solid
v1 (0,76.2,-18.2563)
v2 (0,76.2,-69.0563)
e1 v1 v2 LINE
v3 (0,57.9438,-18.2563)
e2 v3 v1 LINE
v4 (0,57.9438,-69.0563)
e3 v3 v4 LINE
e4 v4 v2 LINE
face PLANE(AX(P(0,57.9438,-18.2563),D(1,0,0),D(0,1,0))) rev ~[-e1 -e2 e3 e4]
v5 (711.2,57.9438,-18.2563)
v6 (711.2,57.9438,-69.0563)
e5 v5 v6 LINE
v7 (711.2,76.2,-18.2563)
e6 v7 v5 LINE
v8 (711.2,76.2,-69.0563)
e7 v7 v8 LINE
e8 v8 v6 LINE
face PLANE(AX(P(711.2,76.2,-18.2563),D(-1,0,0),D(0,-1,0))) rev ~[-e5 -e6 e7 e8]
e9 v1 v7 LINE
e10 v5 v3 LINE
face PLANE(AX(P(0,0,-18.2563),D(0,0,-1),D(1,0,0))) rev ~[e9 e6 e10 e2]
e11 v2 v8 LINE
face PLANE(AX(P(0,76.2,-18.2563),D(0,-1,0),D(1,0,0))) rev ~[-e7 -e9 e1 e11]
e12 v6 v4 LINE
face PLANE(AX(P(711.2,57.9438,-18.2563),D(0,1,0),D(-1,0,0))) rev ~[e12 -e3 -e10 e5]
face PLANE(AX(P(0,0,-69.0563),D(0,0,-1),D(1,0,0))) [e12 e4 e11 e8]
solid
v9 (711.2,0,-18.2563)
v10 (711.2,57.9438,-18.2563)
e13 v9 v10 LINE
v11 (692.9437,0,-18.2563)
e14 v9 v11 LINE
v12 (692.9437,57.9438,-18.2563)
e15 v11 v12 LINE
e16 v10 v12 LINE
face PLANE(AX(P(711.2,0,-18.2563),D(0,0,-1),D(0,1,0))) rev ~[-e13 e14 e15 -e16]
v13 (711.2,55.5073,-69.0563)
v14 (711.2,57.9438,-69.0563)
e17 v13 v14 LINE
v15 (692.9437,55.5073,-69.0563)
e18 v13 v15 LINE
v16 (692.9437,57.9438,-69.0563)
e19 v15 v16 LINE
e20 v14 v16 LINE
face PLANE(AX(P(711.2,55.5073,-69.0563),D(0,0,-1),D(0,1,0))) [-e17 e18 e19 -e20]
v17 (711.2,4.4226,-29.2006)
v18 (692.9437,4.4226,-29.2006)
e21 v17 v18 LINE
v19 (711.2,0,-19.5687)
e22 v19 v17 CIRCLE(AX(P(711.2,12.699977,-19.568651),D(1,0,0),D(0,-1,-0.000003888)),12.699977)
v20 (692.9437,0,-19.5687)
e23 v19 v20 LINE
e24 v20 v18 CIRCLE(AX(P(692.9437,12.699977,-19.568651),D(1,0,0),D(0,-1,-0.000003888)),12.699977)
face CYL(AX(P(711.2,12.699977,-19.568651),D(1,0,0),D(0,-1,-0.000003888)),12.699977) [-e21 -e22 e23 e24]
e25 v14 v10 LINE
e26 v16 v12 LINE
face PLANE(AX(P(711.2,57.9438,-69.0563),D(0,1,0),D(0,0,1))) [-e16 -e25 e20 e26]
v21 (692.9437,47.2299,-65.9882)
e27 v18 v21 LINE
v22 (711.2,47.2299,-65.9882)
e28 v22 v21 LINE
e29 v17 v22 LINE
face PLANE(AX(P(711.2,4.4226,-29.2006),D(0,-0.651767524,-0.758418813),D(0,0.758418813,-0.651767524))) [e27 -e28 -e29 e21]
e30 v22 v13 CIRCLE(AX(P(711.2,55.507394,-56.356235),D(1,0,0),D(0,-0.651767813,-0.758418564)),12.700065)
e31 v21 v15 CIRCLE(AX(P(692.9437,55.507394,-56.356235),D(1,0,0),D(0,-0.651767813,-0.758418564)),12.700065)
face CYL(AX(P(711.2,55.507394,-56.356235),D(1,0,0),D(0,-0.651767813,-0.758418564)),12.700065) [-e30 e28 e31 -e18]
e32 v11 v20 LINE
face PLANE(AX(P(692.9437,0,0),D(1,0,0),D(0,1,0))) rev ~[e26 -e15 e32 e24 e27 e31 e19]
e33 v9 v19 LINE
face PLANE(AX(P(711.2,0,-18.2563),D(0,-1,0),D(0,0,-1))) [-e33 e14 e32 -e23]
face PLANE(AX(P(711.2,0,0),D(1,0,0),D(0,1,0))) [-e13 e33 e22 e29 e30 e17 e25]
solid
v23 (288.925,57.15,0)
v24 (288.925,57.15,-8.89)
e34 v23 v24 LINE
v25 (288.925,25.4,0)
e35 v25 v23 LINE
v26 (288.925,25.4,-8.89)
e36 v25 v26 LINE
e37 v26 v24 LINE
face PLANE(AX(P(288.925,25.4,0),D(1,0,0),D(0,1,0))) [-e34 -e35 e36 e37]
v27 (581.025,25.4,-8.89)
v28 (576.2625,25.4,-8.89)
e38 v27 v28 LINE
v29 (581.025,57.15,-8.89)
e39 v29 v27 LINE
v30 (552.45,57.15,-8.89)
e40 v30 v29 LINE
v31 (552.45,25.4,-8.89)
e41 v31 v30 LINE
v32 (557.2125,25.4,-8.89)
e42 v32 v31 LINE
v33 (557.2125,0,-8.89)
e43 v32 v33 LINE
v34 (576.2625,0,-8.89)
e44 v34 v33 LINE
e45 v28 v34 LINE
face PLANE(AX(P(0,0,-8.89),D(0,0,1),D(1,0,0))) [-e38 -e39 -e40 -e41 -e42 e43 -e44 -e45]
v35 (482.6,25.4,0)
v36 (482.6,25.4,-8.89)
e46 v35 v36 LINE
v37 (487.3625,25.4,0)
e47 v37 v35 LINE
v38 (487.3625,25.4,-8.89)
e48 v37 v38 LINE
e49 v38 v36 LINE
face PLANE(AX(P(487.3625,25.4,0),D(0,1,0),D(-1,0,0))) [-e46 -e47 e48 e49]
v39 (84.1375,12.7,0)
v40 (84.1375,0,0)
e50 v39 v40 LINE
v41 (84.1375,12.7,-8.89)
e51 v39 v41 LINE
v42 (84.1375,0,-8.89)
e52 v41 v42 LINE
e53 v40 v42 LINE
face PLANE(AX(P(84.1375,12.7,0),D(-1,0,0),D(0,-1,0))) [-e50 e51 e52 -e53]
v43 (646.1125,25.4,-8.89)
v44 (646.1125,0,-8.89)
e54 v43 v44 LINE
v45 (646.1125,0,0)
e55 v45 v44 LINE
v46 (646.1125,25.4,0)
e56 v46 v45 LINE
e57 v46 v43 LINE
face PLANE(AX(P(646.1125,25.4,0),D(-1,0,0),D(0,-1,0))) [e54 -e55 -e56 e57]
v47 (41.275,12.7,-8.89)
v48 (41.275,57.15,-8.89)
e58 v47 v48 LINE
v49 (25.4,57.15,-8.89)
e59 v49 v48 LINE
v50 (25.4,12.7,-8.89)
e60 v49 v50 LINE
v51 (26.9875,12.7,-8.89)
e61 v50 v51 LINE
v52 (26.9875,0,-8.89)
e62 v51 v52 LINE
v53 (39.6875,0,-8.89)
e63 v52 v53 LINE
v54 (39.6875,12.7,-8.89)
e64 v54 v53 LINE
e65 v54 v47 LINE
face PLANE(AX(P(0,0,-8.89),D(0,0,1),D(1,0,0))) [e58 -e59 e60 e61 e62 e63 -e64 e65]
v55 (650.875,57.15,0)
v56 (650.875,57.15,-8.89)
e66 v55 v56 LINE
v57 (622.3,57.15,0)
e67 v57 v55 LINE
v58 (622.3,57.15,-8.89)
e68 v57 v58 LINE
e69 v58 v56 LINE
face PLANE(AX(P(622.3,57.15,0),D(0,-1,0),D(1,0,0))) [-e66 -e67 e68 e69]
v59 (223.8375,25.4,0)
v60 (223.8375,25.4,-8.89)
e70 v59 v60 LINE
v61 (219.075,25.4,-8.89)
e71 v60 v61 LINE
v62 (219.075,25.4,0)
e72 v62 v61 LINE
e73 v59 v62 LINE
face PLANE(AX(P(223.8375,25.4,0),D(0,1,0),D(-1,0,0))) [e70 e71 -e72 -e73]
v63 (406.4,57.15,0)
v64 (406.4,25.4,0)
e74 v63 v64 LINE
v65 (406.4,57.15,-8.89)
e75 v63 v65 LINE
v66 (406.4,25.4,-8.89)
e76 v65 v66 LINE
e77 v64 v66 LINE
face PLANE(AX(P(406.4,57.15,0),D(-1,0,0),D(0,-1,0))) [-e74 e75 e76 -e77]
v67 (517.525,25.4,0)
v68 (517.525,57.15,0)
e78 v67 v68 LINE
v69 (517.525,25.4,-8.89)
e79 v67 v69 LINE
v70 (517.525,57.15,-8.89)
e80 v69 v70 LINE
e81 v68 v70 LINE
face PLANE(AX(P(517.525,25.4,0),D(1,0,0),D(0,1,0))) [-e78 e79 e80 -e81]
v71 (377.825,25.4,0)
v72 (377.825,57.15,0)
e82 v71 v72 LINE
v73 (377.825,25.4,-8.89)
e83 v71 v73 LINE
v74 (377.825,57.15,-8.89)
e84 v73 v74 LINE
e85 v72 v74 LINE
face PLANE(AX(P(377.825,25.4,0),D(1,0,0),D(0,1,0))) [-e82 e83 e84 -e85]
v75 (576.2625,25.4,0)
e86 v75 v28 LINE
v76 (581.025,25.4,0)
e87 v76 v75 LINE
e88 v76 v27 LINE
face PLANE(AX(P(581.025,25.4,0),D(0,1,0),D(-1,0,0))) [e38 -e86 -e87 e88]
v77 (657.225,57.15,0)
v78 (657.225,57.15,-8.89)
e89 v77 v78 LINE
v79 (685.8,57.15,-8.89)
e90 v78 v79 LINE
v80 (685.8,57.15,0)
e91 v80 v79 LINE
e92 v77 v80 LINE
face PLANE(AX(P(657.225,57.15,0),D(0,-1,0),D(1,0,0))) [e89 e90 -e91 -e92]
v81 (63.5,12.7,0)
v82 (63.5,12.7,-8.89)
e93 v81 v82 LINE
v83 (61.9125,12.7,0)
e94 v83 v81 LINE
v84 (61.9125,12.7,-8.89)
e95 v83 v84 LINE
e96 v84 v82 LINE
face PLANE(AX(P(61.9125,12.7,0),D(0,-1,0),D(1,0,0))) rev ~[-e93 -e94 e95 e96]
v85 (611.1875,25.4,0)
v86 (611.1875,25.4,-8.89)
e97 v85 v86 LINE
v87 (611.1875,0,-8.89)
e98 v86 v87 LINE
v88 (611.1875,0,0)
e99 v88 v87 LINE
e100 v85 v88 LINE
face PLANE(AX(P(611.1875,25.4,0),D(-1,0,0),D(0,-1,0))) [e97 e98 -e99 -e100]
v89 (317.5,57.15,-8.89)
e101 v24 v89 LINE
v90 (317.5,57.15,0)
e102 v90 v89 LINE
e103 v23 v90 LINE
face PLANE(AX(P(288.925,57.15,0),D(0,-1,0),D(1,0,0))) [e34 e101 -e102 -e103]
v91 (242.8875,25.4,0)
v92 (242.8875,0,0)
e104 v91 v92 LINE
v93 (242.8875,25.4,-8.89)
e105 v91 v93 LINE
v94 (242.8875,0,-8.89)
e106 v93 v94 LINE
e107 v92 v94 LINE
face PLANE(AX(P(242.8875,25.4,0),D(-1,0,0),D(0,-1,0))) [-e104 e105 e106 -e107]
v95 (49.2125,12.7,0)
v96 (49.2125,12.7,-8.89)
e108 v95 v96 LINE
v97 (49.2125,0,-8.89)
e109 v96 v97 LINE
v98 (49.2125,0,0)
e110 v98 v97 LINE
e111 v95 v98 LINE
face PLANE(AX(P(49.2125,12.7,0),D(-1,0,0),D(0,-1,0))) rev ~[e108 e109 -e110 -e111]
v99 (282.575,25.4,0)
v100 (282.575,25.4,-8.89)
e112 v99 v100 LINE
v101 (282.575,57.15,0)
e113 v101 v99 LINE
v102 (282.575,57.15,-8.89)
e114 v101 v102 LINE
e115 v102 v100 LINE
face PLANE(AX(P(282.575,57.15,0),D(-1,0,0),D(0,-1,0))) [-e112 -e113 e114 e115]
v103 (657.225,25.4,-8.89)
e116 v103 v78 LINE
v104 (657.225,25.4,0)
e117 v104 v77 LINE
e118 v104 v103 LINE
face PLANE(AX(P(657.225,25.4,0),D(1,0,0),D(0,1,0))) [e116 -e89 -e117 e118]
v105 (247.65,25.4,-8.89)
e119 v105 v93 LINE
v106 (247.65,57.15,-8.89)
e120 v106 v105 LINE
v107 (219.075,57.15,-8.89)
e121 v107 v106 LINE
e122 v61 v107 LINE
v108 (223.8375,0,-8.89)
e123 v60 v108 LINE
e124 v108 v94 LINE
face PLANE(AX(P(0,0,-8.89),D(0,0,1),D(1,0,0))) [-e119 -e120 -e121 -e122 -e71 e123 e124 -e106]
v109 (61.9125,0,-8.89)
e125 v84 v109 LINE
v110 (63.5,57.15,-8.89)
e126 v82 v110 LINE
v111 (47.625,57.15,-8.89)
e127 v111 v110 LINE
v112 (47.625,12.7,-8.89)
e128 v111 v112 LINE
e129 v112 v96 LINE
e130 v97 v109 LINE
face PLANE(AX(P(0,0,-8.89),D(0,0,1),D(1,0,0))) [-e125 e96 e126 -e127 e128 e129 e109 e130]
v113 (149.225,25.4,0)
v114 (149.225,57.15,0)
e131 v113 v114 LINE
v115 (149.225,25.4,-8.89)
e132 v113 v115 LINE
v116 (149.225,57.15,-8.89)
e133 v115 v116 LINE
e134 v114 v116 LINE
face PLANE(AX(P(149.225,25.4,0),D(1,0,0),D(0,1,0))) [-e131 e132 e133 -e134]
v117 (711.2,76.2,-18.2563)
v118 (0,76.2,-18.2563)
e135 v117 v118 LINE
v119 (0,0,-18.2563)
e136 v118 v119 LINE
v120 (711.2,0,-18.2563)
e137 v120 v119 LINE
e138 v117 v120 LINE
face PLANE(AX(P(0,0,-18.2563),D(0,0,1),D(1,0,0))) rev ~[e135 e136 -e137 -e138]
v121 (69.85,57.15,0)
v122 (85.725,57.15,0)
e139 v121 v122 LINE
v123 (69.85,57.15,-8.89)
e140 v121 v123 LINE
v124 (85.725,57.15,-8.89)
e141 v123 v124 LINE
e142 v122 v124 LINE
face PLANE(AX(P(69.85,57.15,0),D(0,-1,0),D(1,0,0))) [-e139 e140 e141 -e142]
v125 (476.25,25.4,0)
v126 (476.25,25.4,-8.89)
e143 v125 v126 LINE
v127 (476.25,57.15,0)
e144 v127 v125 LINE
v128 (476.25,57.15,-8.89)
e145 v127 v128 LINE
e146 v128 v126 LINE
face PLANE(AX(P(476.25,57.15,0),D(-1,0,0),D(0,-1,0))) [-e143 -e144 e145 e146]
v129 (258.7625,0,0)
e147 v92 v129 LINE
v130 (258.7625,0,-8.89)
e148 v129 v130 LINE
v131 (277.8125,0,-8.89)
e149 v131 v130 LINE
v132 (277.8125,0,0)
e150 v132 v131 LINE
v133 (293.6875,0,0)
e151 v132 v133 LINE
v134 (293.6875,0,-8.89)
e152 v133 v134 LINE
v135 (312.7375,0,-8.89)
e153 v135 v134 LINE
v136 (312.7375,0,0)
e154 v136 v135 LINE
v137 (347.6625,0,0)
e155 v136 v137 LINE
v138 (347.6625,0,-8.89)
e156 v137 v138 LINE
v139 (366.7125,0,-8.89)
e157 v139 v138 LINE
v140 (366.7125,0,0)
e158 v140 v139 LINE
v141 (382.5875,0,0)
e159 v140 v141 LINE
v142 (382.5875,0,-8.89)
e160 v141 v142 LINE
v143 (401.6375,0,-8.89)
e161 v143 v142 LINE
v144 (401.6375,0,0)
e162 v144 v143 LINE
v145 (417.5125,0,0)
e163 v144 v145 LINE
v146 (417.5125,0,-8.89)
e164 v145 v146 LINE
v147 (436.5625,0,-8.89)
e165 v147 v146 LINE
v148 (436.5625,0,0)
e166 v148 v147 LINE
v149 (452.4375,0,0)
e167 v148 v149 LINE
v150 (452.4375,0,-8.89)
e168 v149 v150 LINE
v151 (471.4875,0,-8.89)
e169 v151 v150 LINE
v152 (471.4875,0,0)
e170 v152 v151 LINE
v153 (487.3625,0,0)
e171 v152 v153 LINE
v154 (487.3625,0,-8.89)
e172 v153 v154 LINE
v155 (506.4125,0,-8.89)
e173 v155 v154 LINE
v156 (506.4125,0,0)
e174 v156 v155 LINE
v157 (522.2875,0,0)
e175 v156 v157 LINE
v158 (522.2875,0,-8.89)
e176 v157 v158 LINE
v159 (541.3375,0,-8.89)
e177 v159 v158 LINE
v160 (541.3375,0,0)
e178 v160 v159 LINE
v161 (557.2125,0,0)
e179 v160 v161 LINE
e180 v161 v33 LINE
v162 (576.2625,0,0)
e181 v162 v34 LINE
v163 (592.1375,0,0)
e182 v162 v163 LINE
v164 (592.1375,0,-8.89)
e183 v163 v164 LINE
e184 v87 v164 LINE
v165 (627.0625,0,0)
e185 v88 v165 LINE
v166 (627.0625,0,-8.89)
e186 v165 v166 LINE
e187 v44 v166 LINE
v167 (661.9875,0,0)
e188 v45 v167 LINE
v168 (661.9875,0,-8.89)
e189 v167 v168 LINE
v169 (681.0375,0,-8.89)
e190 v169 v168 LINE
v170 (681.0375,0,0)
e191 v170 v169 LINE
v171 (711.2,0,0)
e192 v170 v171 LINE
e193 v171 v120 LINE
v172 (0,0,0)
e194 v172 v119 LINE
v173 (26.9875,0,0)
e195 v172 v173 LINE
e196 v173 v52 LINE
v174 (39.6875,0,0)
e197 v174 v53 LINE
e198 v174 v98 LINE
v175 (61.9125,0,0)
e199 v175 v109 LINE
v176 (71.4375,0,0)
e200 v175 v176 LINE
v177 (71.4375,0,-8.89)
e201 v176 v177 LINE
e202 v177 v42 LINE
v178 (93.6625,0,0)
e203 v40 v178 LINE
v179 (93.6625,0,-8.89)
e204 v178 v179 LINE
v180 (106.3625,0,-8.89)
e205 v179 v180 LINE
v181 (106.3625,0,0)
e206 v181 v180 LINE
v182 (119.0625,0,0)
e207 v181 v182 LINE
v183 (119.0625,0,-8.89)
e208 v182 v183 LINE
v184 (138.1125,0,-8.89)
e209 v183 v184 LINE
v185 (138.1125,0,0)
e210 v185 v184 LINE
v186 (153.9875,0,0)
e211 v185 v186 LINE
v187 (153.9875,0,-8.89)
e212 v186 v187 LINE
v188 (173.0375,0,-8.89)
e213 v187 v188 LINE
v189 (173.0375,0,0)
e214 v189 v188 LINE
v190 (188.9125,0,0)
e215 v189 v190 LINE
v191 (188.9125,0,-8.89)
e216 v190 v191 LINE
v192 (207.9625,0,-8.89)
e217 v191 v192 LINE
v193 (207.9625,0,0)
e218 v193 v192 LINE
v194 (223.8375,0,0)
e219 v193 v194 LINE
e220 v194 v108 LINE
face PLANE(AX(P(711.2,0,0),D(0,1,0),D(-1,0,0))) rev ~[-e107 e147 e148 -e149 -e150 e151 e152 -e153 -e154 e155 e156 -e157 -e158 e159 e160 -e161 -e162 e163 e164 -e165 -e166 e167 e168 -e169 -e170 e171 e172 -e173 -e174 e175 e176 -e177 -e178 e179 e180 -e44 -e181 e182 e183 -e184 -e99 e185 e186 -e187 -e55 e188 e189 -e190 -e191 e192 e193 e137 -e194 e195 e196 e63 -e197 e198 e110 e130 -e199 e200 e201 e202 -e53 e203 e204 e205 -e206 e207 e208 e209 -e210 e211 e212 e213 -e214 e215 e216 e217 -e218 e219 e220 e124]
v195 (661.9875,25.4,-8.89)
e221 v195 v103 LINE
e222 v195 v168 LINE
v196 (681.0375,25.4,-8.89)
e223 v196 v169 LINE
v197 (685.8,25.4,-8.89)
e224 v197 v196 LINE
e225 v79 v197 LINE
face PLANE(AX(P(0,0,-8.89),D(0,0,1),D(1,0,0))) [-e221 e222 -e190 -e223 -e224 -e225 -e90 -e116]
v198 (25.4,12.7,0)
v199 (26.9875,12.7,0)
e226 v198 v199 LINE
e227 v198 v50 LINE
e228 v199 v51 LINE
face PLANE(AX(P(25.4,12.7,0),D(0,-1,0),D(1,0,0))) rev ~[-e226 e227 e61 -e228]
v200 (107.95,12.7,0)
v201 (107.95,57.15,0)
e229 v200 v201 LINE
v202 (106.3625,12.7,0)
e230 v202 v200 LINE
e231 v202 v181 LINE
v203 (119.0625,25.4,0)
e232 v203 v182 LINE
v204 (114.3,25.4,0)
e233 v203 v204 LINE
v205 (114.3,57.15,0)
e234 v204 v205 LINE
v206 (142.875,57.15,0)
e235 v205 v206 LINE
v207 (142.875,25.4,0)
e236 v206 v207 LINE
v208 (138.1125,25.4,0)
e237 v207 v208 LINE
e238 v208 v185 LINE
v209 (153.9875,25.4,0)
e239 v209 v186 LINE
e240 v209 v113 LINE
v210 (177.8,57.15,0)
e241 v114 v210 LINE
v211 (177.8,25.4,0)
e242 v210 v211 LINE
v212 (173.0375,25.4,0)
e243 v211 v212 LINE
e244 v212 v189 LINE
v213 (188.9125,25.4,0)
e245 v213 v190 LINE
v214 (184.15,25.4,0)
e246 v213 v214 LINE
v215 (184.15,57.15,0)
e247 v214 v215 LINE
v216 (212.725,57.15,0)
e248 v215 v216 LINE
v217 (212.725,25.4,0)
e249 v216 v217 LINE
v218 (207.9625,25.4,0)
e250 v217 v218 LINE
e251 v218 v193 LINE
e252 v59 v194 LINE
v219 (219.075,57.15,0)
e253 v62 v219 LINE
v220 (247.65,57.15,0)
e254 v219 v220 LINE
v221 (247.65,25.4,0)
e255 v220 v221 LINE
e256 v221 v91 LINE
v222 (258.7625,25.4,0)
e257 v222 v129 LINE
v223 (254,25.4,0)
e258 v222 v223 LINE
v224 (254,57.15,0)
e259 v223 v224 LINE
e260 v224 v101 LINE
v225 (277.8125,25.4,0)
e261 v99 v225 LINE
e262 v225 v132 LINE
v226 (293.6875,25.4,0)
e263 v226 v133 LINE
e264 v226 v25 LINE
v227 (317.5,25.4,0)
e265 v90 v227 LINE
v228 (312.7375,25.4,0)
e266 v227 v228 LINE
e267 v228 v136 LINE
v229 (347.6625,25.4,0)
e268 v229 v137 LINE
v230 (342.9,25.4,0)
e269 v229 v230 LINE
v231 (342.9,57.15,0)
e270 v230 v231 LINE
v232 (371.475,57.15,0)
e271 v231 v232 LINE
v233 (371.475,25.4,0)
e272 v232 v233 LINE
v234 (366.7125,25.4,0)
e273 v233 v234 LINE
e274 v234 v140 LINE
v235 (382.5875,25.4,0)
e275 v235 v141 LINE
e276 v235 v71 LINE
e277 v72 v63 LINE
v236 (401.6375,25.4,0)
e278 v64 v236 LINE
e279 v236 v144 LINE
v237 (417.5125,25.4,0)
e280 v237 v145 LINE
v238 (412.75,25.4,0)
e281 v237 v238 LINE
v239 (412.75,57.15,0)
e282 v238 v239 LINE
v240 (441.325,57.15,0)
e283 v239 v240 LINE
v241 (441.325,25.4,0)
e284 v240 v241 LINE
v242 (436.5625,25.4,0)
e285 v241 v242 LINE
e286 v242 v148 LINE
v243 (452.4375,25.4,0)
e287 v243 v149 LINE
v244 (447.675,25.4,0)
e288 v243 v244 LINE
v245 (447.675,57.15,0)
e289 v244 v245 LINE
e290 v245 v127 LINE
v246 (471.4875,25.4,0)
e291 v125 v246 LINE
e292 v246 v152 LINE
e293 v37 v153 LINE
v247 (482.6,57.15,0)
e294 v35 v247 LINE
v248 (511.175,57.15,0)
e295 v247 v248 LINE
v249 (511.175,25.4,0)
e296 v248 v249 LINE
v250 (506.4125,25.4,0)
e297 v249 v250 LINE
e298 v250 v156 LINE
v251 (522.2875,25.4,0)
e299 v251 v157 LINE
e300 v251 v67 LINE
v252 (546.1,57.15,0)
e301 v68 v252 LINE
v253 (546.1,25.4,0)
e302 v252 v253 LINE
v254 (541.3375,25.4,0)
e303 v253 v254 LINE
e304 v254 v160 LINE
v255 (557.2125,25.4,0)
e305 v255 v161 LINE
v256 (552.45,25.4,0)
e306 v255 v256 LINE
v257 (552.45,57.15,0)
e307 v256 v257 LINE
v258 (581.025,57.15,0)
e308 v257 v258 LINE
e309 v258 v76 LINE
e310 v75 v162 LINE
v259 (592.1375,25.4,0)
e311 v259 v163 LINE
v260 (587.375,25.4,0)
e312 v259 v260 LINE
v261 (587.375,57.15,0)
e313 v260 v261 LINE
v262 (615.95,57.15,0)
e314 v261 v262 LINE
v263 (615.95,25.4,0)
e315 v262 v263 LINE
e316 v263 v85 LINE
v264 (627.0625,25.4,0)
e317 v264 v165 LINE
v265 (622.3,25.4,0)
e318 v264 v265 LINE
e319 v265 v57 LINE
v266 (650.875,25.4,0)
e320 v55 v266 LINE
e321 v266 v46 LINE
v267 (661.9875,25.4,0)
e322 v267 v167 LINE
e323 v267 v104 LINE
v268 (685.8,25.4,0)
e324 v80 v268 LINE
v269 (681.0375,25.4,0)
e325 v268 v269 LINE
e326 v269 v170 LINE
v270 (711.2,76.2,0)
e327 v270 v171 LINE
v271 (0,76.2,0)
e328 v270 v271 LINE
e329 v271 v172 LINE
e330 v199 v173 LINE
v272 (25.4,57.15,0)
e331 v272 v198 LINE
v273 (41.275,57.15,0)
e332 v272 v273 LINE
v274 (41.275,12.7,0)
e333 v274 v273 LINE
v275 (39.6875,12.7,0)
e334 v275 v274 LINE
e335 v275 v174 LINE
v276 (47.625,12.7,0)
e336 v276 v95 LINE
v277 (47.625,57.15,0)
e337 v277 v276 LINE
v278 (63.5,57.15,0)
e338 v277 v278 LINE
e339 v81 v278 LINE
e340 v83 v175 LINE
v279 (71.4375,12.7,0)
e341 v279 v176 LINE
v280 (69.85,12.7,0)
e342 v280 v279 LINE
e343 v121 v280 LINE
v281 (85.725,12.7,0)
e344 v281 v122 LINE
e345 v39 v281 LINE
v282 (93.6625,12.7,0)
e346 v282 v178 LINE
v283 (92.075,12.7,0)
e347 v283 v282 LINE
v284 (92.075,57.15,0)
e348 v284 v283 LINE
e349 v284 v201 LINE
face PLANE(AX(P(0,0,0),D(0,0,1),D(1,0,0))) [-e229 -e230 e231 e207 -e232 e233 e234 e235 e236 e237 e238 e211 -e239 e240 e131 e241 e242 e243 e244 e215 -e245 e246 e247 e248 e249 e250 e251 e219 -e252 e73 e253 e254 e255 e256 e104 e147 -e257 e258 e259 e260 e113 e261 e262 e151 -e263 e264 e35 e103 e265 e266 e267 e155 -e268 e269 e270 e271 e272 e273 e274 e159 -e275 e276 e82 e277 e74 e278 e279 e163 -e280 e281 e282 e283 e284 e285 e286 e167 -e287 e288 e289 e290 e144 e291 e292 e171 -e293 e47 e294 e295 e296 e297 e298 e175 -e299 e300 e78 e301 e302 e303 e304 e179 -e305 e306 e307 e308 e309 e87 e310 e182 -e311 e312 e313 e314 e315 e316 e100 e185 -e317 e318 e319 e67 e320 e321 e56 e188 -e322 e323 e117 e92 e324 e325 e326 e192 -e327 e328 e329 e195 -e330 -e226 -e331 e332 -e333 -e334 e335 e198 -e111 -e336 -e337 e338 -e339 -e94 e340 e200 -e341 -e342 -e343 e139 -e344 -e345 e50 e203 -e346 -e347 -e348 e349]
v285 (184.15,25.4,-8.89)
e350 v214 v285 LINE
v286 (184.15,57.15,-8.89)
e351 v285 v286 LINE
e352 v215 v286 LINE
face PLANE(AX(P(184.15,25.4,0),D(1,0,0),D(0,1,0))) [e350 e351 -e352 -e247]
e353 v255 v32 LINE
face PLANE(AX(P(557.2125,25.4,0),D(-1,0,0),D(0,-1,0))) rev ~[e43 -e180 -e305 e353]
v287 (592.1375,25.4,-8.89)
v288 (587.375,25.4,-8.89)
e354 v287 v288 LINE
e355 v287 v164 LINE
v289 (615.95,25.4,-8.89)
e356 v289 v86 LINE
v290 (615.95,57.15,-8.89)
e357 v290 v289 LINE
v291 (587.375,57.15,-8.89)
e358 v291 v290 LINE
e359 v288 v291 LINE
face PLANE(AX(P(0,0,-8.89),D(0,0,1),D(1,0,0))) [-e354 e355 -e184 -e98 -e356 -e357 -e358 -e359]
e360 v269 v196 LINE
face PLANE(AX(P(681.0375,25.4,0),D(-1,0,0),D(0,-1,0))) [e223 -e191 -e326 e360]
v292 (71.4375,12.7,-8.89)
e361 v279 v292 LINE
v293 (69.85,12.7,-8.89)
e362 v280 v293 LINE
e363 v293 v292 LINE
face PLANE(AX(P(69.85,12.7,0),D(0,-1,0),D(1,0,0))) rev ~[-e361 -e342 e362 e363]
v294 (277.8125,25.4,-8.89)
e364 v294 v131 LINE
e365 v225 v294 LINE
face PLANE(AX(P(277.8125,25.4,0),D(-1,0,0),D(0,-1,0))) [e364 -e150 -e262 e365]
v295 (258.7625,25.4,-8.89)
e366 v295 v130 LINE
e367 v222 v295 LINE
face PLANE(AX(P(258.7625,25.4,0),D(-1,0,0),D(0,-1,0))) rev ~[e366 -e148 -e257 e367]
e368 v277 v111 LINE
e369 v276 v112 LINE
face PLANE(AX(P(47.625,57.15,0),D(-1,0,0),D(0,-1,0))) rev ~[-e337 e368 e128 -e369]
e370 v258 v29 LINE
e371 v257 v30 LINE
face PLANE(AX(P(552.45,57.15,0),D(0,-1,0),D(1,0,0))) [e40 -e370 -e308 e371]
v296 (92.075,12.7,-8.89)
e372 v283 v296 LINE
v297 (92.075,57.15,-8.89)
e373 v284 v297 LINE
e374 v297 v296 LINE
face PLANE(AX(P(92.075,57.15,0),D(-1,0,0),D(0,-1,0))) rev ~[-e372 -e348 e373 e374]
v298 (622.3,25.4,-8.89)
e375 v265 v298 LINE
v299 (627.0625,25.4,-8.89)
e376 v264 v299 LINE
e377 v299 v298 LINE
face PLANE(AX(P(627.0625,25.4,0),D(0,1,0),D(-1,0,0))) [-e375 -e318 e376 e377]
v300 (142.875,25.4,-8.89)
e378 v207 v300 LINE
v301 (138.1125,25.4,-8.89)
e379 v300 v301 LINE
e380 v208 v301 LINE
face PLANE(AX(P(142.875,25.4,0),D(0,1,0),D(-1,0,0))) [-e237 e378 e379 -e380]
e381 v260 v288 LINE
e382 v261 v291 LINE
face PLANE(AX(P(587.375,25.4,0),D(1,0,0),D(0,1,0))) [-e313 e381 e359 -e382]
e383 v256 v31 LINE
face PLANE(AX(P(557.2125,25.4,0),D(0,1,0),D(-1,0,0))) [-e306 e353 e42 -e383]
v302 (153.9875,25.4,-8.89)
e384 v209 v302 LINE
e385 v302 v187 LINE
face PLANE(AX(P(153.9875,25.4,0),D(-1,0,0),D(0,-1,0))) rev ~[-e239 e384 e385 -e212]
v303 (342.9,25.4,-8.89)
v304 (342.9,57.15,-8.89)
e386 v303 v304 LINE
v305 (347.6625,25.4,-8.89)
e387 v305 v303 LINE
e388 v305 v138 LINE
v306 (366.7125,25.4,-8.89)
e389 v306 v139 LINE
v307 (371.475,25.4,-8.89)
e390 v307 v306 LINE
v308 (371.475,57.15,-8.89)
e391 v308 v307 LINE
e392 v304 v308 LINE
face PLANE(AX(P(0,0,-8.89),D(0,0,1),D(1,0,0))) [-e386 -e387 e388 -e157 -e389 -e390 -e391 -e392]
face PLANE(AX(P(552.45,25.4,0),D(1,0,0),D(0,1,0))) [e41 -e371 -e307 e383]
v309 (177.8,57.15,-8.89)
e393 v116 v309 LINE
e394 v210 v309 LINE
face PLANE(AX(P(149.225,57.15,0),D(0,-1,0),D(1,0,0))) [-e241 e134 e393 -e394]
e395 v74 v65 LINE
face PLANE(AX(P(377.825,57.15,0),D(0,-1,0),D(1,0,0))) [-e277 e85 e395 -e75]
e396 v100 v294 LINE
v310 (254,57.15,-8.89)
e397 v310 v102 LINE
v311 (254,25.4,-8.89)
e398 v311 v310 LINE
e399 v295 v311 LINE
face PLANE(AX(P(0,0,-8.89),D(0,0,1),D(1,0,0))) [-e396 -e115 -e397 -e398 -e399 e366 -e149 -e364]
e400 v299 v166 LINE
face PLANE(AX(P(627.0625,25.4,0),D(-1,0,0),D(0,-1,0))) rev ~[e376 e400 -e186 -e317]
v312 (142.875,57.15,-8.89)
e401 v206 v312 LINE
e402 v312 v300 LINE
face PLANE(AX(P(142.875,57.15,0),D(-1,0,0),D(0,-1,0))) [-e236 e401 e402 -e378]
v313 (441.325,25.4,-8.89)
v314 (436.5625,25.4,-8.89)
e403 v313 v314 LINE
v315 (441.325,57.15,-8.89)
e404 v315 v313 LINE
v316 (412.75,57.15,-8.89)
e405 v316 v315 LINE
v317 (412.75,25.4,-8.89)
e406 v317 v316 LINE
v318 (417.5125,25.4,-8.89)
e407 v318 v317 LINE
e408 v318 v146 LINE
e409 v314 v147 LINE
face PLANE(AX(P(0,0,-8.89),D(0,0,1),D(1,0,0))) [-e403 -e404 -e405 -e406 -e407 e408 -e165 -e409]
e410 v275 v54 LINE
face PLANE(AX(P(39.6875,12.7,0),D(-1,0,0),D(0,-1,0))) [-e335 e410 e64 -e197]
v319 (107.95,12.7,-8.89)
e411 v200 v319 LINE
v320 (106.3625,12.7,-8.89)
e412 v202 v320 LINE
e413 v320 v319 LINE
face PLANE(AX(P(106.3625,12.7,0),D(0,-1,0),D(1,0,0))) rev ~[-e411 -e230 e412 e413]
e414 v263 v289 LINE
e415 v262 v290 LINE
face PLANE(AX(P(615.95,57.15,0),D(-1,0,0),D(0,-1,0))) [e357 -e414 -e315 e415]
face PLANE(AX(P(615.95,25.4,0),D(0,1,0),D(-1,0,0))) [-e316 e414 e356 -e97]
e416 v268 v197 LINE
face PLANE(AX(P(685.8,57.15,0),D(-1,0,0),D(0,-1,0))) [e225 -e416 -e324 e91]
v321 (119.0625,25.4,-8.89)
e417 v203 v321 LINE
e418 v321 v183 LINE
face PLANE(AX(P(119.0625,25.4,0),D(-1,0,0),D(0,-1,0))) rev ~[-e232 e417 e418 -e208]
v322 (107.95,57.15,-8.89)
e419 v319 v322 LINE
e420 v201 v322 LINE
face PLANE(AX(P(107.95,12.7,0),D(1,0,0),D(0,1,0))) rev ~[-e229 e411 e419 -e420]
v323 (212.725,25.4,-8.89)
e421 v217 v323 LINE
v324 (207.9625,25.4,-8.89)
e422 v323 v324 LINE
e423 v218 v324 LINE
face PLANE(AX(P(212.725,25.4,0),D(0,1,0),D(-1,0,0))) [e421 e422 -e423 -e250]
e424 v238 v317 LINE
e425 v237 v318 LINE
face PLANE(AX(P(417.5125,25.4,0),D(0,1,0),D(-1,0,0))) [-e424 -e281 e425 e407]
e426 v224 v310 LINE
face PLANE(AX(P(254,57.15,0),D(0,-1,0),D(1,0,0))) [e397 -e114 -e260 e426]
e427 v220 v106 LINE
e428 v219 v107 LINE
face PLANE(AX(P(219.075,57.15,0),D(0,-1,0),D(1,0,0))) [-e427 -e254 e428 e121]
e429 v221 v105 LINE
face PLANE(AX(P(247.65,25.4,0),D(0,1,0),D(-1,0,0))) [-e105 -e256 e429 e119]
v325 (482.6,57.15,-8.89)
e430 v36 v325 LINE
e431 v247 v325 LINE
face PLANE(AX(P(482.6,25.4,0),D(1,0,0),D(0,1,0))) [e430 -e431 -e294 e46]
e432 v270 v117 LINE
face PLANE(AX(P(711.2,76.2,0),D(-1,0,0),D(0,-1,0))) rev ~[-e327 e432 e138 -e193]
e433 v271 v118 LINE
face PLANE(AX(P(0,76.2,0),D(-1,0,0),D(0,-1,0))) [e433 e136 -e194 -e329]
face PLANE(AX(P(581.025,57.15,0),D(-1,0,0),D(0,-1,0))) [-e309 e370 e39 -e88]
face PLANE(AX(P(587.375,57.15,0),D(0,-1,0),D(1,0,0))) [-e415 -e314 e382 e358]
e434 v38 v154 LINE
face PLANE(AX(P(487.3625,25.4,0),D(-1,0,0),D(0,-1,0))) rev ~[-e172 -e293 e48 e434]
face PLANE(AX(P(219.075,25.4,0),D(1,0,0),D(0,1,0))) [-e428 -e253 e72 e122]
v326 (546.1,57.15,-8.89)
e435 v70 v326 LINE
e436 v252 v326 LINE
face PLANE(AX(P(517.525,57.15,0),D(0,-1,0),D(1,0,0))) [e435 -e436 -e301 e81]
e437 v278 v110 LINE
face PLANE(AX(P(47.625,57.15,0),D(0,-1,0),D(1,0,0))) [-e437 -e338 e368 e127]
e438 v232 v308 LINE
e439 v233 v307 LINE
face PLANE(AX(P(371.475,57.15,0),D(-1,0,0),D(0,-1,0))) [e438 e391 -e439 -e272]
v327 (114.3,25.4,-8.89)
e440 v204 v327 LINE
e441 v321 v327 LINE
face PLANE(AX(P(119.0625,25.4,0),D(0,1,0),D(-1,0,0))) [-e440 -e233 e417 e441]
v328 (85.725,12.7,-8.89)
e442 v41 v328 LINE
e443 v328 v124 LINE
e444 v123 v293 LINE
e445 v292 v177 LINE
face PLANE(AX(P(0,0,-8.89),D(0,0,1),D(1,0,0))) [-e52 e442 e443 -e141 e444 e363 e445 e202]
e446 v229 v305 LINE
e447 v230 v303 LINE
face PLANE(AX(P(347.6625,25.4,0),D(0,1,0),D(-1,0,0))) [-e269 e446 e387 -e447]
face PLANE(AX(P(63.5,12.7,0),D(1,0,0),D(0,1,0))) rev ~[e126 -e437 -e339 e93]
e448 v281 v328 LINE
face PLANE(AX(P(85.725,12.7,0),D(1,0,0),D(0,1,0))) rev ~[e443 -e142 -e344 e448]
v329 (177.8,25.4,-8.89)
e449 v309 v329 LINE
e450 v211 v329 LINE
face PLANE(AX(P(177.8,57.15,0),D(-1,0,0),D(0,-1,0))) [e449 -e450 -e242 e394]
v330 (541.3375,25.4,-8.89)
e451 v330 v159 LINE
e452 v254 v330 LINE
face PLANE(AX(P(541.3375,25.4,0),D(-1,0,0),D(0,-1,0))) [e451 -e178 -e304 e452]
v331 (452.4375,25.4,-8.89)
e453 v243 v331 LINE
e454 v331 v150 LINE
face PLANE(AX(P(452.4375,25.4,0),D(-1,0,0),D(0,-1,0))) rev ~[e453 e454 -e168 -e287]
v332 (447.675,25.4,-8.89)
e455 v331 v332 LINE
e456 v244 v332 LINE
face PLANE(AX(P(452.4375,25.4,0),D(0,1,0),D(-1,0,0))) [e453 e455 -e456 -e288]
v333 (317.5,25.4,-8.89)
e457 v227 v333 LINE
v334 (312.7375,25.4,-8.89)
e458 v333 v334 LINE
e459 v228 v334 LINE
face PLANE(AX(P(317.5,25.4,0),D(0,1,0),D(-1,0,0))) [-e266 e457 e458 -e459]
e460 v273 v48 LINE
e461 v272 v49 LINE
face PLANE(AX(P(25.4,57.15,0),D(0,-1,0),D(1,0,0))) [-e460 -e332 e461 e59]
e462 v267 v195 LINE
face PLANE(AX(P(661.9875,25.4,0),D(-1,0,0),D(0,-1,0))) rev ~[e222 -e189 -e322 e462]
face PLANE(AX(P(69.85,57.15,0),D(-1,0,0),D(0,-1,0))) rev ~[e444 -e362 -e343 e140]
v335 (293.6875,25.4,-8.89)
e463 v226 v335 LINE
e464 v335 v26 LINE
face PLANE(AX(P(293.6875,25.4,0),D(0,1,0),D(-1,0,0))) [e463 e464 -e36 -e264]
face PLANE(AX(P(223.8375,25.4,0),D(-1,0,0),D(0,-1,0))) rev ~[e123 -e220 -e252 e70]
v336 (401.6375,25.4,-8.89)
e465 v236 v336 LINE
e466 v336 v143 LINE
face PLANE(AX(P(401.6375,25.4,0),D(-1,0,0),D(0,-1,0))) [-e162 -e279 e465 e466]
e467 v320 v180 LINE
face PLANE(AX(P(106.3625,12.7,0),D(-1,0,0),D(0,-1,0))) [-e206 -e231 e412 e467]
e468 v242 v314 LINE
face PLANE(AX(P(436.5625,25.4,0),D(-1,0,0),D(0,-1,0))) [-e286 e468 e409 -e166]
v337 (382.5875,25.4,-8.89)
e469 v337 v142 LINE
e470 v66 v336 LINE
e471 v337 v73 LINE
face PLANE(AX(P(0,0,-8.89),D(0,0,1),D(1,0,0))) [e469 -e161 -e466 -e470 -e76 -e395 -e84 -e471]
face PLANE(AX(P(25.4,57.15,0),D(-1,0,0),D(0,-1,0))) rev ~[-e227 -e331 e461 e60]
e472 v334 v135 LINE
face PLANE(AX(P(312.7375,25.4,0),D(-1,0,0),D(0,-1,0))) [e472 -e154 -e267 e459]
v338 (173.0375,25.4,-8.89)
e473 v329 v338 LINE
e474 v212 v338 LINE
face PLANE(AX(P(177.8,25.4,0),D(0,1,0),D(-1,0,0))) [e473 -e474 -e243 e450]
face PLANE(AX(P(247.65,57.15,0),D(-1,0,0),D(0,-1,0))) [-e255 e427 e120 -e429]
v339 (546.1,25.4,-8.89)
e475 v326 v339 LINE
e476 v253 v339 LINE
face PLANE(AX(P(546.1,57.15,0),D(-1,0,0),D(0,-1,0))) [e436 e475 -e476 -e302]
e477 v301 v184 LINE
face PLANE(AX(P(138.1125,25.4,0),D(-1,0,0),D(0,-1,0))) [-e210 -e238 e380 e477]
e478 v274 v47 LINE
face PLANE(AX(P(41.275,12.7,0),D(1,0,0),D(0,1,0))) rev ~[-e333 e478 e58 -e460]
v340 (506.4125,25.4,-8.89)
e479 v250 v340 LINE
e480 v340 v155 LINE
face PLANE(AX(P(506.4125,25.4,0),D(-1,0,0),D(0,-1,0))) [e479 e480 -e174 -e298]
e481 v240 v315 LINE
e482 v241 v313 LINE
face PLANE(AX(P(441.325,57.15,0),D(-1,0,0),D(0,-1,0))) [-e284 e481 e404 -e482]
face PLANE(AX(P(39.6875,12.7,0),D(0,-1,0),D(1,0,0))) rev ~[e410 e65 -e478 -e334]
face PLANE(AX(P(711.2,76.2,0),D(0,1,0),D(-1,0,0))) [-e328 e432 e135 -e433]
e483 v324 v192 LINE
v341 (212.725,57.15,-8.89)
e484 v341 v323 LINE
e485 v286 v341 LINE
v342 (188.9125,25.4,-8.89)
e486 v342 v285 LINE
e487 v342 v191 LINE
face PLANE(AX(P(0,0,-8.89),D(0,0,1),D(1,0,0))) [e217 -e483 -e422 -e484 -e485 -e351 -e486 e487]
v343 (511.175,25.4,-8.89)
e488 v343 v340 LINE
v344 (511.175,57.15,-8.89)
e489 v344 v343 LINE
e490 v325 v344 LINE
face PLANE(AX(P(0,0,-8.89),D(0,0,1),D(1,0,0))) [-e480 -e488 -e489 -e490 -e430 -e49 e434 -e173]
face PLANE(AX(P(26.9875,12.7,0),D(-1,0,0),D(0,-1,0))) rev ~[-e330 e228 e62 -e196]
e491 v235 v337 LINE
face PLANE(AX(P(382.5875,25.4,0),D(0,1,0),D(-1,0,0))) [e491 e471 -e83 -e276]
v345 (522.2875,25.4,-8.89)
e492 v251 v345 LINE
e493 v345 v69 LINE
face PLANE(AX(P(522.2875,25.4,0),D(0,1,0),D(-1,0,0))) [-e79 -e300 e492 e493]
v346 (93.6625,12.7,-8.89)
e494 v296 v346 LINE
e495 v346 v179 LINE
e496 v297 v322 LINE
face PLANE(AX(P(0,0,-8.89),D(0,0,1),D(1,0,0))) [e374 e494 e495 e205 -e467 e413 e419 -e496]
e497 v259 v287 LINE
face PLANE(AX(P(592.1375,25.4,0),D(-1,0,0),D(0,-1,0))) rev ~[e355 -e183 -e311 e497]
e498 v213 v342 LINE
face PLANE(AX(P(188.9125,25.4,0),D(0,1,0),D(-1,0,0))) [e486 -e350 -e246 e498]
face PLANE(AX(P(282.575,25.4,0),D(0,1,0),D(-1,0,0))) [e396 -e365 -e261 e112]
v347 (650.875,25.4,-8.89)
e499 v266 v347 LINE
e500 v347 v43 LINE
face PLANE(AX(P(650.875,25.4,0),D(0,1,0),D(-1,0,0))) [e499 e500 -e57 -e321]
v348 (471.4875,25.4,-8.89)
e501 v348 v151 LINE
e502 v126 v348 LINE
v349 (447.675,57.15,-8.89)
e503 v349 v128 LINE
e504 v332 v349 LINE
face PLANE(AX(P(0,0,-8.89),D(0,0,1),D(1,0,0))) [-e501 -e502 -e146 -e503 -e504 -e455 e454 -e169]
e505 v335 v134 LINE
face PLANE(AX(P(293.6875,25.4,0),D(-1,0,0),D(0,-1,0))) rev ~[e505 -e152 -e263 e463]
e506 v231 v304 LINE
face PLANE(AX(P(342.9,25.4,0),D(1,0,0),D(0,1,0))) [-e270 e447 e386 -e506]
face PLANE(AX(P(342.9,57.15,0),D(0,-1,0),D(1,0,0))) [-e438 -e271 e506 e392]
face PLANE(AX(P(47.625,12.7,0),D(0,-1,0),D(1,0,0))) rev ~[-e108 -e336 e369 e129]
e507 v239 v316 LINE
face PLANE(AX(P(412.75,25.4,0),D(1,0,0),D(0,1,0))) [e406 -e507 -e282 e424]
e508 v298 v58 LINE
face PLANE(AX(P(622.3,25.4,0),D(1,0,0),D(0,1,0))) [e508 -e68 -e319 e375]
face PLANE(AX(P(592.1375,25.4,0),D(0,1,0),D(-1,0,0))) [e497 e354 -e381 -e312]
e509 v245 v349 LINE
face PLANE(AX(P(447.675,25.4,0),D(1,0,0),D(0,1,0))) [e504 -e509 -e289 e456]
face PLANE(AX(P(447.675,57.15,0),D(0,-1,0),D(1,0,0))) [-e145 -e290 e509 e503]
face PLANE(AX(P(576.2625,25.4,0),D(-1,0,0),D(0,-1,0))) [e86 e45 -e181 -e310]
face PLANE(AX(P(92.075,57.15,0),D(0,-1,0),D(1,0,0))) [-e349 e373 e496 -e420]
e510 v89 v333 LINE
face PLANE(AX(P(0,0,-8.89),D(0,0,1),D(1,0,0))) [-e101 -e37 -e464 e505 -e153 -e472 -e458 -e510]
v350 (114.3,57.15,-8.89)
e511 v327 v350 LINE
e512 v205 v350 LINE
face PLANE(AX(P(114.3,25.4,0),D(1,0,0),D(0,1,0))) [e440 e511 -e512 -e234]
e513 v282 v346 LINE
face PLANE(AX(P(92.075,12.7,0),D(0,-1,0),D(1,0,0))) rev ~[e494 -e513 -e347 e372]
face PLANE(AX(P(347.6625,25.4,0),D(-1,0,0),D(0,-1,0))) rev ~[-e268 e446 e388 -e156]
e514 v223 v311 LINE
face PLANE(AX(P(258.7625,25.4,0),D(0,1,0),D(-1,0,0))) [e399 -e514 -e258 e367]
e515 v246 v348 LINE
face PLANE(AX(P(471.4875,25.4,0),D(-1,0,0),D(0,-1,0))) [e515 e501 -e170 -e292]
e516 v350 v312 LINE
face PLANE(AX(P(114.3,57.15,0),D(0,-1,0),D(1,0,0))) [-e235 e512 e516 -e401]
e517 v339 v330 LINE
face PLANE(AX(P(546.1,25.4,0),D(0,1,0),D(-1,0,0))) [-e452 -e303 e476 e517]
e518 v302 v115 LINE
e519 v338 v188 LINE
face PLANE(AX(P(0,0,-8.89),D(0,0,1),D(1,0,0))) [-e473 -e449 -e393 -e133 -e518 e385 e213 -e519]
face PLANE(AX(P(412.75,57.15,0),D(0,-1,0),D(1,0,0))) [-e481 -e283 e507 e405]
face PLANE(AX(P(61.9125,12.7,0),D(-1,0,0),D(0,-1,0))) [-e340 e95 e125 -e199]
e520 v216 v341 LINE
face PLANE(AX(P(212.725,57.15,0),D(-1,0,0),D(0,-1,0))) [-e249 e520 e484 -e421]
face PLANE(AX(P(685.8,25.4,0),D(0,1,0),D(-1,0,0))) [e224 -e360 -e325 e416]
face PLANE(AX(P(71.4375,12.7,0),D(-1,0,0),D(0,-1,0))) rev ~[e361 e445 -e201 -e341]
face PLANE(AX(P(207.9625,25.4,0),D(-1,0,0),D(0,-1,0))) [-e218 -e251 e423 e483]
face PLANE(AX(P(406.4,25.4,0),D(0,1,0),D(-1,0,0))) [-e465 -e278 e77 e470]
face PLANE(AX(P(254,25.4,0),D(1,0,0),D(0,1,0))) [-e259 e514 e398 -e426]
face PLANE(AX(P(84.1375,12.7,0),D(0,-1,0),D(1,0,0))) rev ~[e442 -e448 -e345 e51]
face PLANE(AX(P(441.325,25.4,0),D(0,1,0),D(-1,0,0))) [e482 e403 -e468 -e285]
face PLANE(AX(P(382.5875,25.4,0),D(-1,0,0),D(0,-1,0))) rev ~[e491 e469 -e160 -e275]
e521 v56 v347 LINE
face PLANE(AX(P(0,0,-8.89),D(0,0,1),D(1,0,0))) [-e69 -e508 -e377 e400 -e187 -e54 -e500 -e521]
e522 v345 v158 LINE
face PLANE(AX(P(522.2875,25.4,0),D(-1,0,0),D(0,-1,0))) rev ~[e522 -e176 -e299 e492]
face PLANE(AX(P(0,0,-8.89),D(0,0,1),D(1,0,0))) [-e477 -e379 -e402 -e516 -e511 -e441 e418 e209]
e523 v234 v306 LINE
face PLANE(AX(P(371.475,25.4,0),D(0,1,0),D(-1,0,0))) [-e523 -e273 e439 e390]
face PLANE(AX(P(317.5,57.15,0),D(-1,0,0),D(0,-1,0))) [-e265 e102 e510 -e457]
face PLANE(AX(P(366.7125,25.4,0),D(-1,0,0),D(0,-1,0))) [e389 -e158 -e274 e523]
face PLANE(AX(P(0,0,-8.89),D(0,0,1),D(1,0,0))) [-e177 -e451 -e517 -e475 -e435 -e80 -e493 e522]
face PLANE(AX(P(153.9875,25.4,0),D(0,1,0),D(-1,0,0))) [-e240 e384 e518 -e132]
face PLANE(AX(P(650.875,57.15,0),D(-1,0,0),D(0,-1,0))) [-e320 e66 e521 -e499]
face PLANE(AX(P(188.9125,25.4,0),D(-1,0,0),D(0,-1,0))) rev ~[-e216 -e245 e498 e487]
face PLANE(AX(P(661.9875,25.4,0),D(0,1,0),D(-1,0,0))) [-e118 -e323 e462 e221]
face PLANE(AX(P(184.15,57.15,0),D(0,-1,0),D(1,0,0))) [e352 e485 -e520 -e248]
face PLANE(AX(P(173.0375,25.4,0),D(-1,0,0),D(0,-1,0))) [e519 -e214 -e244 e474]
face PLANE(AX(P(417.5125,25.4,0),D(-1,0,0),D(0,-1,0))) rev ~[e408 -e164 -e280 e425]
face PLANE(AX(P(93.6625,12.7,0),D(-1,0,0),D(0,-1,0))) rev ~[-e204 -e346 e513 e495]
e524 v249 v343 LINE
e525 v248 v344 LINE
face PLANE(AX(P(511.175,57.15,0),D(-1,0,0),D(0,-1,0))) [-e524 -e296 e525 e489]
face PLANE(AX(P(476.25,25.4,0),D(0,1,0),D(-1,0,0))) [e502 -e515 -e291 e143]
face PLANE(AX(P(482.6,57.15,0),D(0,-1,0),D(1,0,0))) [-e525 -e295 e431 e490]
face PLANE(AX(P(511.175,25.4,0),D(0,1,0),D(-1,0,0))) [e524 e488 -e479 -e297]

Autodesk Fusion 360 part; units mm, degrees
sketch "Sketch1" plane through (0, 0, 0) normal (0, 0, 1) x (1, 0, 0)
  line L0 (0, 76.2) -> (0, 0)
  line L1 (114.3, 57.15) -> (142.875, 57.15)
  line L2 (142.875, 57.15) -> (142.875, 25.4)
  line L3 (142.875, 25.4) -> (114.3, 25.4)
  line L4 (114.3, 25.4) -> (114.3, 57.15)
  line L5 (128.5875, 25.4) -> (128.5875, 0) construction
  line L6 (119.0625, 25.4) -> (119.0625, 0)
  line L7 (138.1125, 25.4) -> (138.1125, 0)
  line L8 (25.4, 57.15) -> (25.4, 12.7)
  line L9 (25.4, 12.7) -> (41.275, 12.7)
  line L10 (41.275, 12.7) -> (41.275, 57.15)
  line L11 (26.9875, 12.7) -> (26.9875, 0)
  line L12 (39.6875, 12.7) -> (39.6875, 0)
  line L13 (25.4, 57.15) -> (41.275, 57.15)
  line L14 (26.9875, 0) -> (39.6875, 0)
  line L15 (119.0625, 0) -> (138.1125, 0)
  line L16 (49.2125, 0) -> (61.9125, 0)
  line L17 (47.625, 57.15) -> (63.5, 57.15)
  line L18 (61.9125, 12.7) -> (61.9125, 0)
  line L19 (47.625, 57.15) -> (47.625, 12.7)
  line L20 (49.2125, 12.7) -> (49.2125, 0)
  line L21 (47.625, 12.7) -> (63.5, 12.7)
  line L22 (63.5, 12.7) -> (63.5, 57.15)
  line L23 (71.4375, 0) -> (84.1375, 0)
  line L24 (69.85, 57.15) -> (85.725, 57.15)
  line L25 (84.1375, 12.7) -> (84.1375, 0)
  line L26 (69.85, 57.15) -> (69.85, 12.7)
  line L27 (71.4375, 12.7) -> (71.4375, 0)
  line L28 (69.85, 12.7) -> (85.725, 12.7)
  line L29 (85.725, 12.7) -> (85.725, 57.15)
  line L30 (93.6625, 0) -> (106.3625, 0)
  line L31 (92.075, 57.15) -> (107.95, 57.15)
  line L32 (106.3625, 12.7) -> (106.3625, 0)
  line L33 (92.075, 57.15) -> (92.075, 12.7)
  line L34 (93.6625, 12.7) -> (93.6625, 0)
  line L35 (92.075, 12.7) -> (107.95, 12.7)
  line L36 (107.95, 12.7) -> (107.95, 57.15)
  line L37 (153.9875, 25.4) -> (153.9875, 0)
  line L38 (149.225, 57.15) -> (177.8, 57.15)
  line L39 (163.5125, 25.4) -> (163.5125, 0) construction
  line L40 (149.225, 25.4) -> (149.225, 57.15)
  line L41 (177.8, 25.4) -> (149.225, 25.4)
  line L42 (177.8, 57.15) -> (177.8, 25.4)
  line L43 (173.0375, 25.4) -> (173.0375, 0)
  line L44 (153.9875, 0) -> (173.0375, 0)
  line L45 (188.9125, 25.4) -> (188.9125, 0)
  line L46 (184.15, 57.15) -> (212.725, 57.15)
  line L47 (198.4375, 25.4) -> (198.4375, 0) construction
  line L48 (184.15, 25.4) -> (184.15, 57.15)
  line L49 (212.725, 25.4) -> (184.15, 25.4)
  line L50 (212.725, 57.15) -> (212.725, 25.4)
  line L51 (207.9625, 25.4) -> (207.9625, 0)
  line L52 (188.9125, 0) -> (207.9625, 0)
  line L53 (223.8375, 25.4) -> (223.8375, 0)
  line L54 (219.075, 57.15) -> (247.65, 57.15)
  line L55 (233.3625, 25.4) -> (233.3625, 0) construction
  line L56 (219.075, 25.4) -> (219.075, 57.15)
  line L57 (247.65, 25.4) -> (219.075, 25.4)
  line L58 (247.65, 57.15) -> (247.65, 25.4)
  line L59 (242.8875, 25.4) -> (242.8875, 0)
  line L60 (223.8375, 0) -> (242.8875, 0)
  line L61 (711.2, 76.2) -> (711.2, 0)
  line L62 (711.2, 0) -> (0, 0)
  line L63 (711.2, 76.2) -> (0, 76.2)
  line L64 (277.8125, 25.4) -> (277.8125, 0)
  line L65 (254, 57.15) -> (282.575, 57.15)
  line L66 (268.2875, 25.4) -> (268.2875, 0) construction
  line L67 (258.7625, 25.4) -> (258.7625, 0)
  line L68 (282.575, 25.4) -> (254, 25.4)
  line L69 (258.7625, 0) -> (277.8125, 0)
  line L70 (282.575, 57.15) -> (282.575, 25.4)
  line L71 (254, 25.4) -> (254, 57.15)
  line L72 (312.7375, 25.4) -> (312.7375, 0)
  line L73 (288.925, 57.15) -> (317.5, 57.15)
  line L74 (303.2125, 25.4) -> (303.2125, 0) construction
  line L75 (293.6875, 25.4) -> (293.6875, 0)
  line L76 (317.5, 25.4) -> (288.925, 25.4)
  line L77 (293.6875, 0) -> (312.7375, 0)
  line L78 (317.5, 57.15) -> (317.5, 25.4)
  line L79 (288.925, 25.4) -> (288.925, 57.15)
  line L80 (366.7125, 25.4) -> (366.7125, 0)
  line L81 (371.475, 25.4) -> (342.9, 25.4)
  line L82 (342.9, 57.15) -> (371.475, 57.15)
  line L83 (342.9, 25.4) -> (342.9, 57.15)
  line L84 (371.475, 57.15) -> (371.475, 25.4)
  line L85 (357.1875, 25.4) -> (357.1875, 0) construction
  line L86 (347.6625, 25.4) -> (347.6625, 0)
  line L87 (347.6625, 0) -> (366.7125, 0)
  line L88 (401.6375, 25.4) -> (401.6375, 0)
  line L89 (406.4, 25.4) -> (377.825, 25.4)
  line L90 (377.825, 57.15) -> (406.4, 57.15)
  line L91 (377.825, 25.4) -> (377.825, 57.15)
  line L92 (406.4, 57.15) -> (406.4, 25.4)
  line L93 (392.1125, 25.4) -> (392.1125, 0) construction
  line L94 (382.5875, 25.4) -> (382.5875, 0)
  line L95 (382.5875, 0) -> (401.6375, 0)
  line L96 (436.5625, 25.4) -> (436.5625, 0)
  line L97 (441.325, 25.4) -> (412.75, 25.4)
  line L98 (412.75, 57.15) -> (441.325, 57.15)
  line L99 (412.75, 25.4) -> (412.75, 57.15)
  line L100 (441.325, 57.15) -> (441.325, 25.4)
  line L101 (427.0375, 25.4) -> (427.0375, 0) construction
  line L102 (417.5125, 25.4) -> (417.5125, 0)
  line L103 (417.5125, 0) -> (436.5625, 0)
  line L104 (471.4875, 25.4) -> (471.4875, 0)
  line L105 (476.25, 25.4) -> (447.675, 25.4)
  line L106 (447.675, 57.15) -> (476.25, 57.15)
  line L107 (447.675, 25.4) -> (447.675, 57.15)
  line L108 (476.25, 57.15) -> (476.25, 25.4)
  line L109 (461.9625, 25.4) -> (461.9625, 0) construction
  line L110 (452.4375, 25.4) -> (452.4375, 0)
  line L111 (452.4375, 0) -> (471.4875, 0)
  line L112 (506.4125, 25.4) -> (506.4125, 0)
  line L113 (511.175, 25.4) -> (482.6, 25.4)
  line L114 (482.6, 57.15) -> (511.175, 57.15)
  line L115 (482.6, 25.4) -> (482.6, 57.15)
  line L116 (511.175, 57.15) -> (511.175, 25.4)
  line L117 (496.8875, 25.4) -> (496.8875, 0) construction
  line L118 (487.3625, 25.4) -> (487.3625, 0)
  line L119 (487.3625, 0) -> (506.4125, 0)
  line L120 (541.3375, 25.4) -> (541.3375, 0)
  line L121 (546.1, 25.4) -> (517.525, 25.4)
  line L122 (517.525, 57.15) -> (546.1, 57.15)
  line L123 (517.525, 25.4) -> (517.525, 57.15)
  line L124 (546.1, 57.15) -> (546.1, 25.4)
  line L125 (531.8125, 25.4) -> (531.8125, 0) construction
  line L126 (522.2875, 25.4) -> (522.2875, 0)
  line L127 (522.2875, 0) -> (541.3375, 0)
  line L128 (576.2625, 25.4) -> (576.2625, 0)
  line L129 (581.025, 25.4) -> (552.45, 25.4)
  line L130 (552.45, 57.15) -> (581.025, 57.15)
  line L131 (552.45, 25.4) -> (552.45, 57.15)
  line L132 (581.025, 57.15) -> (581.025, 25.4)
  line L133 (566.7375, 25.4) -> (566.7375, 0) construction
  line L134 (557.2125, 25.4) -> (557.2125, 0)
  line L135 (557.2125, 0) -> (576.2625, 0)
  line L136 (611.1875, 25.4) -> (611.1875, 0)
  line L137 (615.95, 25.4) -> (587.375, 25.4)
  line L138 (587.375, 57.15) -> (615.95, 57.15)
  line L139 (587.375, 25.4) -> (587.375, 57.15)
  line L140 (615.95, 57.15) -> (615.95, 25.4)
  line L141 (601.6625, 25.4) -> (601.6625, 0) construction
  line L142 (592.1375, 25.4) -> (592.1375, 0)
  line L143 (592.1375, 0) -> (611.1875, 0)
  line L144 (646.1125, 25.4) -> (646.1125, 0)
  line L145 (650.875, 25.4) -> (622.3, 25.4)
  line L146 (622.3, 57.15) -> (650.875, 57.15)
  line L147 (622.3, 25.4) -> (622.3, 57.15)
  line L148 (650.875, 57.15) -> (650.875, 25.4)
  line L149 (636.5875, 25.4) -> (636.5875, 0) construction
  line L150 (627.0625, 25.4) -> (627.0625, 0)
  line L151 (627.0625, 0) -> (646.1125, 0)
  line L152 (681.0375, 25.4) -> (681.0375, 0)
  line L153 (685.8, 25.4) -> (657.225, 25.4)
  line L154 (657.225, 57.15) -> (685.8, 57.15)
  line L155 (657.225, 25.4) -> (657.225, 57.15)
  line L156 (685.8, 57.15) -> (685.8, 25.4)
  line L157 (671.5125, 25.4) -> (671.5125, 0) construction
  line L158 (661.9875, 25.4) -> (661.9875, 0)
  line L159 (661.9875, 0) -> (681.0375, 0)
  dimension "d2" = 76.2
  dimension "d4" = 28.575
  dimension "d6" = 9.525
  dimension "d7" = 9.525
  dimension "d21" = 15.875
  dimension "d23" = 12.7
  dimension "d24" = 1.5875
  dimension "d25" = 15.875
  dimension "d26" = 12.7
  dimension "d27" = 1.5875
  dimension "d28" = 15.875
  dimension "d29" = 12.7
  dimension "d30" = 1.5875
  dimension "d31" = 15.875
  dimension "d32" = 12.7
  dimension "d33" = 1.5875
  dimension "d34" = 6.35
  dimension "d35" = 6.35
  dimension "d36" = 6.35
  dimension "d37" = 25.4
  dimension "d38" = 6.35
  dimension "d39" = 31.75
  dimension "d40" = 28.575
  dimension "d41" = 9.525
  dimension "d42" = 9.525
  dimension "d43" = 31.75
  dimension "d44" = 28.575
  dimension "d45" = 9.525
  dimension "d46" = 9.525
  dimension "d47" = 31.75
  dimension "d48" = 28.575
  dimension "d49" = 9.525
  dimension "d50" = 9.525
  dimension "d51" = 31.75
  dimension "d52" = 6.35
  dimension "d53" = 6.35
  dimension "d54" = 6.35
  dimension "d56" = 28.575
  dimension "d57" = 9.525
  dimension "d58" = 9.525
  dimension "d59" = 31.75
  dimension "d60" = 28.575
  dimension "d61" = 9.525
  dimension "d62" = 9.525
  dimension "d63" = 31.75
  dimension "d64" = 6.35
  dimension "d65" = 6.35
  dimension "d81" = 28.575
  dimension "d82" = 9.525
  dimension "d83" = 9.525
  dimension "d84" = 31.75
  dimension "d85" = 28.575
  dimension "d86" = 9.525
  dimension "d87" = 9.525
  dimension "d88" = 31.75
  dimension "d89" = 28.575
  dimension "d90" = 9.525
  dimension "d91" = 9.525
  dimension "d92" = 31.75
  dimension "d93" = 28.575
  dimension "d94" = 9.525
  dimension "d95" = 9.525
  dimension "d96" = 31.75
  dimension "d97" = 28.575
  dimension "d98" = 9.525
  dimension "d99" = 9.525
  dimension "d100" = 31.75
  dimension "d101" = 28.575
  dimension "d102" = 9.525
  dimension "d103" = 9.525
  dimension "d104" = 31.75
  dimension "d105" = 28.575
  dimension "d106" = 9.525
  dimension "d107" = 9.525
  dimension "d108" = 31.75
  dimension "d109" = 28.575
  dimension "d110" = 9.525
  dimension "d111" = 9.525
  dimension "d112" = 31.75
  dimension "d113" = 28.575
  dimension "d114" = 9.525
  dimension "d115" = 9.525
  dimension "d116" = 31.75
  dimension "d117" = 28.575
  dimension "d118" = 9.525
  dimension "d119" = 9.525
  dimension "d120" = 31.75
  dimension "d121" = 25.4
  dimension "d122" = 6.35
  dimension "d123" = 6.35
  dimension "d124" = 6.35
  dimension "d125" = 6.35
  dimension "d126" = 6.35
  dimension "d127" = 6.35
  dimension "d128" = 6.35
  dimension "d129" = 6.35
  dimension "d130" = 6.35
  dimension "d131" = 25.4
extrude "Extrude10" add sketch "Sketch1" against normal blind 18.2563 makes body 1
extrude "Extrude11" cut sketch "Sketch1" against normal blind 8.89 contours L9 L11 L12 L14 L62 | L8 L9 L10 L13 | L62 L152 L153 L158 L159 | L16 L18 L20 L21 L62 | L153 L154 L155 L156 | L17 L19 L21 L22 | L62 L144 L145 L150 L151 | L23 L25 L27 L28 L62 | L145 L146 L147 L148 | L24 L26 L28 L29 | L62 L136 L137 L142 L143 | L30 L32 L34 L35 L62 | L137 L138 L139 L140 | L31 L33 L35 L36 | L62 L128 L129 L134 L135 | L3 L6 L7 L15 L62 | L129 L130 L131 L132 | L1 L2 L3 L4 | L62 L120 L121 L126 L127 | L37 L41 L43 L44 L62 | L121 L122 L123 L124 | L38 L40 L41 L42 | L62 L112 L113 L118 L119 | L45 L49 L51 L52 L62 | L113 L114 L115 L116 | L46 L48 L49 L50 | L62 L104 L105 L110 L111 | L53 L57 L59 L60 L62 | L105 L106 L107 L108 | L54 L56 L57 L58 | L62 L96 L97 L102 L103 | L62 L64 L67 L68 L69 | L97 L98 L99 L100 | L65 L68 L70 L71 | L62 L88 L89 L94 L95 | L62 L72 L75 L76 L77 | L89 L90 L91 L92 | L73 L76 L78 L79 | L62 L80 L81 L86 L87 | L81 L82 L83 L84 bodies 1
sketch "Sketch4" plane through (0, 0, -18.2563) normal (0, 0, -1) x (1, 0, 0)
  line L0 (711.2, 0) -> (0, 0)
  line L1 (0, 0) -> (0, -76.2)
  line L2 (0, -76.2) -> (711.2, -76.2)
  line L3 (711.2, -76.2) -> (711.2, 0)
  line L4 (0, -76.2) -> (711.2, -76.2)
  line L5 (711.2, -76.2) -> (711.2, -57.9438)
  line L6 (711.2, -57.9438) -> (0, -57.9438)
  line L7 (0, -57.9438) -> (0, -76.2)
  dimension "d136" = 18.2563
extrude "Extrude12" add sketch "Sketch4" along normal blind 50.8 separate body contours L1 L2 L3 L4 L5 L6 L7 makes body 2
sketch "Sketch5" plane through (711.2, 0, 0) normal (1, 0, 0) x (0, 1, 0)
  line L0 (76.2, 0) -> (0, 0)
  line L1 (0, 0) -> (0, -18.2563)
  line L2 (0, -18.2563) -> (76.2, -18.2563)
  line L3 (76.2, -18.2563) -> (76.2, 0)
  line L4 (76.2, 0) -> (0, 0)
  line L5 (76.2, 0) -> (76.2, -18.2563)
  line L6 (76.2, -18.2563) -> (76.2, -69.0563)
  line L7 (76.2, -69.0563) -> (57.9438, -69.0563)
  line L8 (0, 0) -> (0, -19.5687)
  line L9 (4.4226, -29.2006) -> (47.2299, -65.9882)
  line L10 (55.5073, -69.0563) -> (57.9438, -69.0563)
  arc A0 (0, -19.5687) -> (4.4226, -29.2006) centre (12.7, -19.5687) ccw
  arc A1 (47.2299, -65.9882) -> (55.5073, -69.0563) centre (55.5073, -56.3562) ccw
  line L11 (57.9438, -69.0563) -> (57.9438, -18.2563)
  line L12 (57.9438, -18.2563) -> (0, -18.2563)
  point P0 (0, -25.4)
  point P1 (50.8, -69.0562)
  dimension "d139" = 25.4
  dimension "d140" = 25.4
  dimension "d141" = 12.7
  dimension "d142" = 12.7
extrude "Extrude13" add sketch "Sketch5" against normal blind 18.2563 separate body contours L2 L8 L9 L10 A0 A1 L11 L12 makes body 3
equation "d21 = ( 5 / 8 ) * 1 in"
equation "d24 = ( 1 / 16 ) * 1 in"
equation "d25 = ( 5 / 8 ) * 1 in"
equation "d27 = ( 1 / 16 ) * 1 in"
equation "d28 = ( 5 / 8 ) * 1 in"
equation "d30 = ( 1 / 16 ) * 1 in"
equation "d31 = ( 5 / 8 ) * 1 in"
equation "d33 = ( 1 / 16 ) * 1 in"
equation "d132 = ( -23 / 32 ) * 1 in"
equation "d136 = ( 23 / 32 ) * 1 in"
equation "d143 = ( -23 / 32 ) * 1 in"
